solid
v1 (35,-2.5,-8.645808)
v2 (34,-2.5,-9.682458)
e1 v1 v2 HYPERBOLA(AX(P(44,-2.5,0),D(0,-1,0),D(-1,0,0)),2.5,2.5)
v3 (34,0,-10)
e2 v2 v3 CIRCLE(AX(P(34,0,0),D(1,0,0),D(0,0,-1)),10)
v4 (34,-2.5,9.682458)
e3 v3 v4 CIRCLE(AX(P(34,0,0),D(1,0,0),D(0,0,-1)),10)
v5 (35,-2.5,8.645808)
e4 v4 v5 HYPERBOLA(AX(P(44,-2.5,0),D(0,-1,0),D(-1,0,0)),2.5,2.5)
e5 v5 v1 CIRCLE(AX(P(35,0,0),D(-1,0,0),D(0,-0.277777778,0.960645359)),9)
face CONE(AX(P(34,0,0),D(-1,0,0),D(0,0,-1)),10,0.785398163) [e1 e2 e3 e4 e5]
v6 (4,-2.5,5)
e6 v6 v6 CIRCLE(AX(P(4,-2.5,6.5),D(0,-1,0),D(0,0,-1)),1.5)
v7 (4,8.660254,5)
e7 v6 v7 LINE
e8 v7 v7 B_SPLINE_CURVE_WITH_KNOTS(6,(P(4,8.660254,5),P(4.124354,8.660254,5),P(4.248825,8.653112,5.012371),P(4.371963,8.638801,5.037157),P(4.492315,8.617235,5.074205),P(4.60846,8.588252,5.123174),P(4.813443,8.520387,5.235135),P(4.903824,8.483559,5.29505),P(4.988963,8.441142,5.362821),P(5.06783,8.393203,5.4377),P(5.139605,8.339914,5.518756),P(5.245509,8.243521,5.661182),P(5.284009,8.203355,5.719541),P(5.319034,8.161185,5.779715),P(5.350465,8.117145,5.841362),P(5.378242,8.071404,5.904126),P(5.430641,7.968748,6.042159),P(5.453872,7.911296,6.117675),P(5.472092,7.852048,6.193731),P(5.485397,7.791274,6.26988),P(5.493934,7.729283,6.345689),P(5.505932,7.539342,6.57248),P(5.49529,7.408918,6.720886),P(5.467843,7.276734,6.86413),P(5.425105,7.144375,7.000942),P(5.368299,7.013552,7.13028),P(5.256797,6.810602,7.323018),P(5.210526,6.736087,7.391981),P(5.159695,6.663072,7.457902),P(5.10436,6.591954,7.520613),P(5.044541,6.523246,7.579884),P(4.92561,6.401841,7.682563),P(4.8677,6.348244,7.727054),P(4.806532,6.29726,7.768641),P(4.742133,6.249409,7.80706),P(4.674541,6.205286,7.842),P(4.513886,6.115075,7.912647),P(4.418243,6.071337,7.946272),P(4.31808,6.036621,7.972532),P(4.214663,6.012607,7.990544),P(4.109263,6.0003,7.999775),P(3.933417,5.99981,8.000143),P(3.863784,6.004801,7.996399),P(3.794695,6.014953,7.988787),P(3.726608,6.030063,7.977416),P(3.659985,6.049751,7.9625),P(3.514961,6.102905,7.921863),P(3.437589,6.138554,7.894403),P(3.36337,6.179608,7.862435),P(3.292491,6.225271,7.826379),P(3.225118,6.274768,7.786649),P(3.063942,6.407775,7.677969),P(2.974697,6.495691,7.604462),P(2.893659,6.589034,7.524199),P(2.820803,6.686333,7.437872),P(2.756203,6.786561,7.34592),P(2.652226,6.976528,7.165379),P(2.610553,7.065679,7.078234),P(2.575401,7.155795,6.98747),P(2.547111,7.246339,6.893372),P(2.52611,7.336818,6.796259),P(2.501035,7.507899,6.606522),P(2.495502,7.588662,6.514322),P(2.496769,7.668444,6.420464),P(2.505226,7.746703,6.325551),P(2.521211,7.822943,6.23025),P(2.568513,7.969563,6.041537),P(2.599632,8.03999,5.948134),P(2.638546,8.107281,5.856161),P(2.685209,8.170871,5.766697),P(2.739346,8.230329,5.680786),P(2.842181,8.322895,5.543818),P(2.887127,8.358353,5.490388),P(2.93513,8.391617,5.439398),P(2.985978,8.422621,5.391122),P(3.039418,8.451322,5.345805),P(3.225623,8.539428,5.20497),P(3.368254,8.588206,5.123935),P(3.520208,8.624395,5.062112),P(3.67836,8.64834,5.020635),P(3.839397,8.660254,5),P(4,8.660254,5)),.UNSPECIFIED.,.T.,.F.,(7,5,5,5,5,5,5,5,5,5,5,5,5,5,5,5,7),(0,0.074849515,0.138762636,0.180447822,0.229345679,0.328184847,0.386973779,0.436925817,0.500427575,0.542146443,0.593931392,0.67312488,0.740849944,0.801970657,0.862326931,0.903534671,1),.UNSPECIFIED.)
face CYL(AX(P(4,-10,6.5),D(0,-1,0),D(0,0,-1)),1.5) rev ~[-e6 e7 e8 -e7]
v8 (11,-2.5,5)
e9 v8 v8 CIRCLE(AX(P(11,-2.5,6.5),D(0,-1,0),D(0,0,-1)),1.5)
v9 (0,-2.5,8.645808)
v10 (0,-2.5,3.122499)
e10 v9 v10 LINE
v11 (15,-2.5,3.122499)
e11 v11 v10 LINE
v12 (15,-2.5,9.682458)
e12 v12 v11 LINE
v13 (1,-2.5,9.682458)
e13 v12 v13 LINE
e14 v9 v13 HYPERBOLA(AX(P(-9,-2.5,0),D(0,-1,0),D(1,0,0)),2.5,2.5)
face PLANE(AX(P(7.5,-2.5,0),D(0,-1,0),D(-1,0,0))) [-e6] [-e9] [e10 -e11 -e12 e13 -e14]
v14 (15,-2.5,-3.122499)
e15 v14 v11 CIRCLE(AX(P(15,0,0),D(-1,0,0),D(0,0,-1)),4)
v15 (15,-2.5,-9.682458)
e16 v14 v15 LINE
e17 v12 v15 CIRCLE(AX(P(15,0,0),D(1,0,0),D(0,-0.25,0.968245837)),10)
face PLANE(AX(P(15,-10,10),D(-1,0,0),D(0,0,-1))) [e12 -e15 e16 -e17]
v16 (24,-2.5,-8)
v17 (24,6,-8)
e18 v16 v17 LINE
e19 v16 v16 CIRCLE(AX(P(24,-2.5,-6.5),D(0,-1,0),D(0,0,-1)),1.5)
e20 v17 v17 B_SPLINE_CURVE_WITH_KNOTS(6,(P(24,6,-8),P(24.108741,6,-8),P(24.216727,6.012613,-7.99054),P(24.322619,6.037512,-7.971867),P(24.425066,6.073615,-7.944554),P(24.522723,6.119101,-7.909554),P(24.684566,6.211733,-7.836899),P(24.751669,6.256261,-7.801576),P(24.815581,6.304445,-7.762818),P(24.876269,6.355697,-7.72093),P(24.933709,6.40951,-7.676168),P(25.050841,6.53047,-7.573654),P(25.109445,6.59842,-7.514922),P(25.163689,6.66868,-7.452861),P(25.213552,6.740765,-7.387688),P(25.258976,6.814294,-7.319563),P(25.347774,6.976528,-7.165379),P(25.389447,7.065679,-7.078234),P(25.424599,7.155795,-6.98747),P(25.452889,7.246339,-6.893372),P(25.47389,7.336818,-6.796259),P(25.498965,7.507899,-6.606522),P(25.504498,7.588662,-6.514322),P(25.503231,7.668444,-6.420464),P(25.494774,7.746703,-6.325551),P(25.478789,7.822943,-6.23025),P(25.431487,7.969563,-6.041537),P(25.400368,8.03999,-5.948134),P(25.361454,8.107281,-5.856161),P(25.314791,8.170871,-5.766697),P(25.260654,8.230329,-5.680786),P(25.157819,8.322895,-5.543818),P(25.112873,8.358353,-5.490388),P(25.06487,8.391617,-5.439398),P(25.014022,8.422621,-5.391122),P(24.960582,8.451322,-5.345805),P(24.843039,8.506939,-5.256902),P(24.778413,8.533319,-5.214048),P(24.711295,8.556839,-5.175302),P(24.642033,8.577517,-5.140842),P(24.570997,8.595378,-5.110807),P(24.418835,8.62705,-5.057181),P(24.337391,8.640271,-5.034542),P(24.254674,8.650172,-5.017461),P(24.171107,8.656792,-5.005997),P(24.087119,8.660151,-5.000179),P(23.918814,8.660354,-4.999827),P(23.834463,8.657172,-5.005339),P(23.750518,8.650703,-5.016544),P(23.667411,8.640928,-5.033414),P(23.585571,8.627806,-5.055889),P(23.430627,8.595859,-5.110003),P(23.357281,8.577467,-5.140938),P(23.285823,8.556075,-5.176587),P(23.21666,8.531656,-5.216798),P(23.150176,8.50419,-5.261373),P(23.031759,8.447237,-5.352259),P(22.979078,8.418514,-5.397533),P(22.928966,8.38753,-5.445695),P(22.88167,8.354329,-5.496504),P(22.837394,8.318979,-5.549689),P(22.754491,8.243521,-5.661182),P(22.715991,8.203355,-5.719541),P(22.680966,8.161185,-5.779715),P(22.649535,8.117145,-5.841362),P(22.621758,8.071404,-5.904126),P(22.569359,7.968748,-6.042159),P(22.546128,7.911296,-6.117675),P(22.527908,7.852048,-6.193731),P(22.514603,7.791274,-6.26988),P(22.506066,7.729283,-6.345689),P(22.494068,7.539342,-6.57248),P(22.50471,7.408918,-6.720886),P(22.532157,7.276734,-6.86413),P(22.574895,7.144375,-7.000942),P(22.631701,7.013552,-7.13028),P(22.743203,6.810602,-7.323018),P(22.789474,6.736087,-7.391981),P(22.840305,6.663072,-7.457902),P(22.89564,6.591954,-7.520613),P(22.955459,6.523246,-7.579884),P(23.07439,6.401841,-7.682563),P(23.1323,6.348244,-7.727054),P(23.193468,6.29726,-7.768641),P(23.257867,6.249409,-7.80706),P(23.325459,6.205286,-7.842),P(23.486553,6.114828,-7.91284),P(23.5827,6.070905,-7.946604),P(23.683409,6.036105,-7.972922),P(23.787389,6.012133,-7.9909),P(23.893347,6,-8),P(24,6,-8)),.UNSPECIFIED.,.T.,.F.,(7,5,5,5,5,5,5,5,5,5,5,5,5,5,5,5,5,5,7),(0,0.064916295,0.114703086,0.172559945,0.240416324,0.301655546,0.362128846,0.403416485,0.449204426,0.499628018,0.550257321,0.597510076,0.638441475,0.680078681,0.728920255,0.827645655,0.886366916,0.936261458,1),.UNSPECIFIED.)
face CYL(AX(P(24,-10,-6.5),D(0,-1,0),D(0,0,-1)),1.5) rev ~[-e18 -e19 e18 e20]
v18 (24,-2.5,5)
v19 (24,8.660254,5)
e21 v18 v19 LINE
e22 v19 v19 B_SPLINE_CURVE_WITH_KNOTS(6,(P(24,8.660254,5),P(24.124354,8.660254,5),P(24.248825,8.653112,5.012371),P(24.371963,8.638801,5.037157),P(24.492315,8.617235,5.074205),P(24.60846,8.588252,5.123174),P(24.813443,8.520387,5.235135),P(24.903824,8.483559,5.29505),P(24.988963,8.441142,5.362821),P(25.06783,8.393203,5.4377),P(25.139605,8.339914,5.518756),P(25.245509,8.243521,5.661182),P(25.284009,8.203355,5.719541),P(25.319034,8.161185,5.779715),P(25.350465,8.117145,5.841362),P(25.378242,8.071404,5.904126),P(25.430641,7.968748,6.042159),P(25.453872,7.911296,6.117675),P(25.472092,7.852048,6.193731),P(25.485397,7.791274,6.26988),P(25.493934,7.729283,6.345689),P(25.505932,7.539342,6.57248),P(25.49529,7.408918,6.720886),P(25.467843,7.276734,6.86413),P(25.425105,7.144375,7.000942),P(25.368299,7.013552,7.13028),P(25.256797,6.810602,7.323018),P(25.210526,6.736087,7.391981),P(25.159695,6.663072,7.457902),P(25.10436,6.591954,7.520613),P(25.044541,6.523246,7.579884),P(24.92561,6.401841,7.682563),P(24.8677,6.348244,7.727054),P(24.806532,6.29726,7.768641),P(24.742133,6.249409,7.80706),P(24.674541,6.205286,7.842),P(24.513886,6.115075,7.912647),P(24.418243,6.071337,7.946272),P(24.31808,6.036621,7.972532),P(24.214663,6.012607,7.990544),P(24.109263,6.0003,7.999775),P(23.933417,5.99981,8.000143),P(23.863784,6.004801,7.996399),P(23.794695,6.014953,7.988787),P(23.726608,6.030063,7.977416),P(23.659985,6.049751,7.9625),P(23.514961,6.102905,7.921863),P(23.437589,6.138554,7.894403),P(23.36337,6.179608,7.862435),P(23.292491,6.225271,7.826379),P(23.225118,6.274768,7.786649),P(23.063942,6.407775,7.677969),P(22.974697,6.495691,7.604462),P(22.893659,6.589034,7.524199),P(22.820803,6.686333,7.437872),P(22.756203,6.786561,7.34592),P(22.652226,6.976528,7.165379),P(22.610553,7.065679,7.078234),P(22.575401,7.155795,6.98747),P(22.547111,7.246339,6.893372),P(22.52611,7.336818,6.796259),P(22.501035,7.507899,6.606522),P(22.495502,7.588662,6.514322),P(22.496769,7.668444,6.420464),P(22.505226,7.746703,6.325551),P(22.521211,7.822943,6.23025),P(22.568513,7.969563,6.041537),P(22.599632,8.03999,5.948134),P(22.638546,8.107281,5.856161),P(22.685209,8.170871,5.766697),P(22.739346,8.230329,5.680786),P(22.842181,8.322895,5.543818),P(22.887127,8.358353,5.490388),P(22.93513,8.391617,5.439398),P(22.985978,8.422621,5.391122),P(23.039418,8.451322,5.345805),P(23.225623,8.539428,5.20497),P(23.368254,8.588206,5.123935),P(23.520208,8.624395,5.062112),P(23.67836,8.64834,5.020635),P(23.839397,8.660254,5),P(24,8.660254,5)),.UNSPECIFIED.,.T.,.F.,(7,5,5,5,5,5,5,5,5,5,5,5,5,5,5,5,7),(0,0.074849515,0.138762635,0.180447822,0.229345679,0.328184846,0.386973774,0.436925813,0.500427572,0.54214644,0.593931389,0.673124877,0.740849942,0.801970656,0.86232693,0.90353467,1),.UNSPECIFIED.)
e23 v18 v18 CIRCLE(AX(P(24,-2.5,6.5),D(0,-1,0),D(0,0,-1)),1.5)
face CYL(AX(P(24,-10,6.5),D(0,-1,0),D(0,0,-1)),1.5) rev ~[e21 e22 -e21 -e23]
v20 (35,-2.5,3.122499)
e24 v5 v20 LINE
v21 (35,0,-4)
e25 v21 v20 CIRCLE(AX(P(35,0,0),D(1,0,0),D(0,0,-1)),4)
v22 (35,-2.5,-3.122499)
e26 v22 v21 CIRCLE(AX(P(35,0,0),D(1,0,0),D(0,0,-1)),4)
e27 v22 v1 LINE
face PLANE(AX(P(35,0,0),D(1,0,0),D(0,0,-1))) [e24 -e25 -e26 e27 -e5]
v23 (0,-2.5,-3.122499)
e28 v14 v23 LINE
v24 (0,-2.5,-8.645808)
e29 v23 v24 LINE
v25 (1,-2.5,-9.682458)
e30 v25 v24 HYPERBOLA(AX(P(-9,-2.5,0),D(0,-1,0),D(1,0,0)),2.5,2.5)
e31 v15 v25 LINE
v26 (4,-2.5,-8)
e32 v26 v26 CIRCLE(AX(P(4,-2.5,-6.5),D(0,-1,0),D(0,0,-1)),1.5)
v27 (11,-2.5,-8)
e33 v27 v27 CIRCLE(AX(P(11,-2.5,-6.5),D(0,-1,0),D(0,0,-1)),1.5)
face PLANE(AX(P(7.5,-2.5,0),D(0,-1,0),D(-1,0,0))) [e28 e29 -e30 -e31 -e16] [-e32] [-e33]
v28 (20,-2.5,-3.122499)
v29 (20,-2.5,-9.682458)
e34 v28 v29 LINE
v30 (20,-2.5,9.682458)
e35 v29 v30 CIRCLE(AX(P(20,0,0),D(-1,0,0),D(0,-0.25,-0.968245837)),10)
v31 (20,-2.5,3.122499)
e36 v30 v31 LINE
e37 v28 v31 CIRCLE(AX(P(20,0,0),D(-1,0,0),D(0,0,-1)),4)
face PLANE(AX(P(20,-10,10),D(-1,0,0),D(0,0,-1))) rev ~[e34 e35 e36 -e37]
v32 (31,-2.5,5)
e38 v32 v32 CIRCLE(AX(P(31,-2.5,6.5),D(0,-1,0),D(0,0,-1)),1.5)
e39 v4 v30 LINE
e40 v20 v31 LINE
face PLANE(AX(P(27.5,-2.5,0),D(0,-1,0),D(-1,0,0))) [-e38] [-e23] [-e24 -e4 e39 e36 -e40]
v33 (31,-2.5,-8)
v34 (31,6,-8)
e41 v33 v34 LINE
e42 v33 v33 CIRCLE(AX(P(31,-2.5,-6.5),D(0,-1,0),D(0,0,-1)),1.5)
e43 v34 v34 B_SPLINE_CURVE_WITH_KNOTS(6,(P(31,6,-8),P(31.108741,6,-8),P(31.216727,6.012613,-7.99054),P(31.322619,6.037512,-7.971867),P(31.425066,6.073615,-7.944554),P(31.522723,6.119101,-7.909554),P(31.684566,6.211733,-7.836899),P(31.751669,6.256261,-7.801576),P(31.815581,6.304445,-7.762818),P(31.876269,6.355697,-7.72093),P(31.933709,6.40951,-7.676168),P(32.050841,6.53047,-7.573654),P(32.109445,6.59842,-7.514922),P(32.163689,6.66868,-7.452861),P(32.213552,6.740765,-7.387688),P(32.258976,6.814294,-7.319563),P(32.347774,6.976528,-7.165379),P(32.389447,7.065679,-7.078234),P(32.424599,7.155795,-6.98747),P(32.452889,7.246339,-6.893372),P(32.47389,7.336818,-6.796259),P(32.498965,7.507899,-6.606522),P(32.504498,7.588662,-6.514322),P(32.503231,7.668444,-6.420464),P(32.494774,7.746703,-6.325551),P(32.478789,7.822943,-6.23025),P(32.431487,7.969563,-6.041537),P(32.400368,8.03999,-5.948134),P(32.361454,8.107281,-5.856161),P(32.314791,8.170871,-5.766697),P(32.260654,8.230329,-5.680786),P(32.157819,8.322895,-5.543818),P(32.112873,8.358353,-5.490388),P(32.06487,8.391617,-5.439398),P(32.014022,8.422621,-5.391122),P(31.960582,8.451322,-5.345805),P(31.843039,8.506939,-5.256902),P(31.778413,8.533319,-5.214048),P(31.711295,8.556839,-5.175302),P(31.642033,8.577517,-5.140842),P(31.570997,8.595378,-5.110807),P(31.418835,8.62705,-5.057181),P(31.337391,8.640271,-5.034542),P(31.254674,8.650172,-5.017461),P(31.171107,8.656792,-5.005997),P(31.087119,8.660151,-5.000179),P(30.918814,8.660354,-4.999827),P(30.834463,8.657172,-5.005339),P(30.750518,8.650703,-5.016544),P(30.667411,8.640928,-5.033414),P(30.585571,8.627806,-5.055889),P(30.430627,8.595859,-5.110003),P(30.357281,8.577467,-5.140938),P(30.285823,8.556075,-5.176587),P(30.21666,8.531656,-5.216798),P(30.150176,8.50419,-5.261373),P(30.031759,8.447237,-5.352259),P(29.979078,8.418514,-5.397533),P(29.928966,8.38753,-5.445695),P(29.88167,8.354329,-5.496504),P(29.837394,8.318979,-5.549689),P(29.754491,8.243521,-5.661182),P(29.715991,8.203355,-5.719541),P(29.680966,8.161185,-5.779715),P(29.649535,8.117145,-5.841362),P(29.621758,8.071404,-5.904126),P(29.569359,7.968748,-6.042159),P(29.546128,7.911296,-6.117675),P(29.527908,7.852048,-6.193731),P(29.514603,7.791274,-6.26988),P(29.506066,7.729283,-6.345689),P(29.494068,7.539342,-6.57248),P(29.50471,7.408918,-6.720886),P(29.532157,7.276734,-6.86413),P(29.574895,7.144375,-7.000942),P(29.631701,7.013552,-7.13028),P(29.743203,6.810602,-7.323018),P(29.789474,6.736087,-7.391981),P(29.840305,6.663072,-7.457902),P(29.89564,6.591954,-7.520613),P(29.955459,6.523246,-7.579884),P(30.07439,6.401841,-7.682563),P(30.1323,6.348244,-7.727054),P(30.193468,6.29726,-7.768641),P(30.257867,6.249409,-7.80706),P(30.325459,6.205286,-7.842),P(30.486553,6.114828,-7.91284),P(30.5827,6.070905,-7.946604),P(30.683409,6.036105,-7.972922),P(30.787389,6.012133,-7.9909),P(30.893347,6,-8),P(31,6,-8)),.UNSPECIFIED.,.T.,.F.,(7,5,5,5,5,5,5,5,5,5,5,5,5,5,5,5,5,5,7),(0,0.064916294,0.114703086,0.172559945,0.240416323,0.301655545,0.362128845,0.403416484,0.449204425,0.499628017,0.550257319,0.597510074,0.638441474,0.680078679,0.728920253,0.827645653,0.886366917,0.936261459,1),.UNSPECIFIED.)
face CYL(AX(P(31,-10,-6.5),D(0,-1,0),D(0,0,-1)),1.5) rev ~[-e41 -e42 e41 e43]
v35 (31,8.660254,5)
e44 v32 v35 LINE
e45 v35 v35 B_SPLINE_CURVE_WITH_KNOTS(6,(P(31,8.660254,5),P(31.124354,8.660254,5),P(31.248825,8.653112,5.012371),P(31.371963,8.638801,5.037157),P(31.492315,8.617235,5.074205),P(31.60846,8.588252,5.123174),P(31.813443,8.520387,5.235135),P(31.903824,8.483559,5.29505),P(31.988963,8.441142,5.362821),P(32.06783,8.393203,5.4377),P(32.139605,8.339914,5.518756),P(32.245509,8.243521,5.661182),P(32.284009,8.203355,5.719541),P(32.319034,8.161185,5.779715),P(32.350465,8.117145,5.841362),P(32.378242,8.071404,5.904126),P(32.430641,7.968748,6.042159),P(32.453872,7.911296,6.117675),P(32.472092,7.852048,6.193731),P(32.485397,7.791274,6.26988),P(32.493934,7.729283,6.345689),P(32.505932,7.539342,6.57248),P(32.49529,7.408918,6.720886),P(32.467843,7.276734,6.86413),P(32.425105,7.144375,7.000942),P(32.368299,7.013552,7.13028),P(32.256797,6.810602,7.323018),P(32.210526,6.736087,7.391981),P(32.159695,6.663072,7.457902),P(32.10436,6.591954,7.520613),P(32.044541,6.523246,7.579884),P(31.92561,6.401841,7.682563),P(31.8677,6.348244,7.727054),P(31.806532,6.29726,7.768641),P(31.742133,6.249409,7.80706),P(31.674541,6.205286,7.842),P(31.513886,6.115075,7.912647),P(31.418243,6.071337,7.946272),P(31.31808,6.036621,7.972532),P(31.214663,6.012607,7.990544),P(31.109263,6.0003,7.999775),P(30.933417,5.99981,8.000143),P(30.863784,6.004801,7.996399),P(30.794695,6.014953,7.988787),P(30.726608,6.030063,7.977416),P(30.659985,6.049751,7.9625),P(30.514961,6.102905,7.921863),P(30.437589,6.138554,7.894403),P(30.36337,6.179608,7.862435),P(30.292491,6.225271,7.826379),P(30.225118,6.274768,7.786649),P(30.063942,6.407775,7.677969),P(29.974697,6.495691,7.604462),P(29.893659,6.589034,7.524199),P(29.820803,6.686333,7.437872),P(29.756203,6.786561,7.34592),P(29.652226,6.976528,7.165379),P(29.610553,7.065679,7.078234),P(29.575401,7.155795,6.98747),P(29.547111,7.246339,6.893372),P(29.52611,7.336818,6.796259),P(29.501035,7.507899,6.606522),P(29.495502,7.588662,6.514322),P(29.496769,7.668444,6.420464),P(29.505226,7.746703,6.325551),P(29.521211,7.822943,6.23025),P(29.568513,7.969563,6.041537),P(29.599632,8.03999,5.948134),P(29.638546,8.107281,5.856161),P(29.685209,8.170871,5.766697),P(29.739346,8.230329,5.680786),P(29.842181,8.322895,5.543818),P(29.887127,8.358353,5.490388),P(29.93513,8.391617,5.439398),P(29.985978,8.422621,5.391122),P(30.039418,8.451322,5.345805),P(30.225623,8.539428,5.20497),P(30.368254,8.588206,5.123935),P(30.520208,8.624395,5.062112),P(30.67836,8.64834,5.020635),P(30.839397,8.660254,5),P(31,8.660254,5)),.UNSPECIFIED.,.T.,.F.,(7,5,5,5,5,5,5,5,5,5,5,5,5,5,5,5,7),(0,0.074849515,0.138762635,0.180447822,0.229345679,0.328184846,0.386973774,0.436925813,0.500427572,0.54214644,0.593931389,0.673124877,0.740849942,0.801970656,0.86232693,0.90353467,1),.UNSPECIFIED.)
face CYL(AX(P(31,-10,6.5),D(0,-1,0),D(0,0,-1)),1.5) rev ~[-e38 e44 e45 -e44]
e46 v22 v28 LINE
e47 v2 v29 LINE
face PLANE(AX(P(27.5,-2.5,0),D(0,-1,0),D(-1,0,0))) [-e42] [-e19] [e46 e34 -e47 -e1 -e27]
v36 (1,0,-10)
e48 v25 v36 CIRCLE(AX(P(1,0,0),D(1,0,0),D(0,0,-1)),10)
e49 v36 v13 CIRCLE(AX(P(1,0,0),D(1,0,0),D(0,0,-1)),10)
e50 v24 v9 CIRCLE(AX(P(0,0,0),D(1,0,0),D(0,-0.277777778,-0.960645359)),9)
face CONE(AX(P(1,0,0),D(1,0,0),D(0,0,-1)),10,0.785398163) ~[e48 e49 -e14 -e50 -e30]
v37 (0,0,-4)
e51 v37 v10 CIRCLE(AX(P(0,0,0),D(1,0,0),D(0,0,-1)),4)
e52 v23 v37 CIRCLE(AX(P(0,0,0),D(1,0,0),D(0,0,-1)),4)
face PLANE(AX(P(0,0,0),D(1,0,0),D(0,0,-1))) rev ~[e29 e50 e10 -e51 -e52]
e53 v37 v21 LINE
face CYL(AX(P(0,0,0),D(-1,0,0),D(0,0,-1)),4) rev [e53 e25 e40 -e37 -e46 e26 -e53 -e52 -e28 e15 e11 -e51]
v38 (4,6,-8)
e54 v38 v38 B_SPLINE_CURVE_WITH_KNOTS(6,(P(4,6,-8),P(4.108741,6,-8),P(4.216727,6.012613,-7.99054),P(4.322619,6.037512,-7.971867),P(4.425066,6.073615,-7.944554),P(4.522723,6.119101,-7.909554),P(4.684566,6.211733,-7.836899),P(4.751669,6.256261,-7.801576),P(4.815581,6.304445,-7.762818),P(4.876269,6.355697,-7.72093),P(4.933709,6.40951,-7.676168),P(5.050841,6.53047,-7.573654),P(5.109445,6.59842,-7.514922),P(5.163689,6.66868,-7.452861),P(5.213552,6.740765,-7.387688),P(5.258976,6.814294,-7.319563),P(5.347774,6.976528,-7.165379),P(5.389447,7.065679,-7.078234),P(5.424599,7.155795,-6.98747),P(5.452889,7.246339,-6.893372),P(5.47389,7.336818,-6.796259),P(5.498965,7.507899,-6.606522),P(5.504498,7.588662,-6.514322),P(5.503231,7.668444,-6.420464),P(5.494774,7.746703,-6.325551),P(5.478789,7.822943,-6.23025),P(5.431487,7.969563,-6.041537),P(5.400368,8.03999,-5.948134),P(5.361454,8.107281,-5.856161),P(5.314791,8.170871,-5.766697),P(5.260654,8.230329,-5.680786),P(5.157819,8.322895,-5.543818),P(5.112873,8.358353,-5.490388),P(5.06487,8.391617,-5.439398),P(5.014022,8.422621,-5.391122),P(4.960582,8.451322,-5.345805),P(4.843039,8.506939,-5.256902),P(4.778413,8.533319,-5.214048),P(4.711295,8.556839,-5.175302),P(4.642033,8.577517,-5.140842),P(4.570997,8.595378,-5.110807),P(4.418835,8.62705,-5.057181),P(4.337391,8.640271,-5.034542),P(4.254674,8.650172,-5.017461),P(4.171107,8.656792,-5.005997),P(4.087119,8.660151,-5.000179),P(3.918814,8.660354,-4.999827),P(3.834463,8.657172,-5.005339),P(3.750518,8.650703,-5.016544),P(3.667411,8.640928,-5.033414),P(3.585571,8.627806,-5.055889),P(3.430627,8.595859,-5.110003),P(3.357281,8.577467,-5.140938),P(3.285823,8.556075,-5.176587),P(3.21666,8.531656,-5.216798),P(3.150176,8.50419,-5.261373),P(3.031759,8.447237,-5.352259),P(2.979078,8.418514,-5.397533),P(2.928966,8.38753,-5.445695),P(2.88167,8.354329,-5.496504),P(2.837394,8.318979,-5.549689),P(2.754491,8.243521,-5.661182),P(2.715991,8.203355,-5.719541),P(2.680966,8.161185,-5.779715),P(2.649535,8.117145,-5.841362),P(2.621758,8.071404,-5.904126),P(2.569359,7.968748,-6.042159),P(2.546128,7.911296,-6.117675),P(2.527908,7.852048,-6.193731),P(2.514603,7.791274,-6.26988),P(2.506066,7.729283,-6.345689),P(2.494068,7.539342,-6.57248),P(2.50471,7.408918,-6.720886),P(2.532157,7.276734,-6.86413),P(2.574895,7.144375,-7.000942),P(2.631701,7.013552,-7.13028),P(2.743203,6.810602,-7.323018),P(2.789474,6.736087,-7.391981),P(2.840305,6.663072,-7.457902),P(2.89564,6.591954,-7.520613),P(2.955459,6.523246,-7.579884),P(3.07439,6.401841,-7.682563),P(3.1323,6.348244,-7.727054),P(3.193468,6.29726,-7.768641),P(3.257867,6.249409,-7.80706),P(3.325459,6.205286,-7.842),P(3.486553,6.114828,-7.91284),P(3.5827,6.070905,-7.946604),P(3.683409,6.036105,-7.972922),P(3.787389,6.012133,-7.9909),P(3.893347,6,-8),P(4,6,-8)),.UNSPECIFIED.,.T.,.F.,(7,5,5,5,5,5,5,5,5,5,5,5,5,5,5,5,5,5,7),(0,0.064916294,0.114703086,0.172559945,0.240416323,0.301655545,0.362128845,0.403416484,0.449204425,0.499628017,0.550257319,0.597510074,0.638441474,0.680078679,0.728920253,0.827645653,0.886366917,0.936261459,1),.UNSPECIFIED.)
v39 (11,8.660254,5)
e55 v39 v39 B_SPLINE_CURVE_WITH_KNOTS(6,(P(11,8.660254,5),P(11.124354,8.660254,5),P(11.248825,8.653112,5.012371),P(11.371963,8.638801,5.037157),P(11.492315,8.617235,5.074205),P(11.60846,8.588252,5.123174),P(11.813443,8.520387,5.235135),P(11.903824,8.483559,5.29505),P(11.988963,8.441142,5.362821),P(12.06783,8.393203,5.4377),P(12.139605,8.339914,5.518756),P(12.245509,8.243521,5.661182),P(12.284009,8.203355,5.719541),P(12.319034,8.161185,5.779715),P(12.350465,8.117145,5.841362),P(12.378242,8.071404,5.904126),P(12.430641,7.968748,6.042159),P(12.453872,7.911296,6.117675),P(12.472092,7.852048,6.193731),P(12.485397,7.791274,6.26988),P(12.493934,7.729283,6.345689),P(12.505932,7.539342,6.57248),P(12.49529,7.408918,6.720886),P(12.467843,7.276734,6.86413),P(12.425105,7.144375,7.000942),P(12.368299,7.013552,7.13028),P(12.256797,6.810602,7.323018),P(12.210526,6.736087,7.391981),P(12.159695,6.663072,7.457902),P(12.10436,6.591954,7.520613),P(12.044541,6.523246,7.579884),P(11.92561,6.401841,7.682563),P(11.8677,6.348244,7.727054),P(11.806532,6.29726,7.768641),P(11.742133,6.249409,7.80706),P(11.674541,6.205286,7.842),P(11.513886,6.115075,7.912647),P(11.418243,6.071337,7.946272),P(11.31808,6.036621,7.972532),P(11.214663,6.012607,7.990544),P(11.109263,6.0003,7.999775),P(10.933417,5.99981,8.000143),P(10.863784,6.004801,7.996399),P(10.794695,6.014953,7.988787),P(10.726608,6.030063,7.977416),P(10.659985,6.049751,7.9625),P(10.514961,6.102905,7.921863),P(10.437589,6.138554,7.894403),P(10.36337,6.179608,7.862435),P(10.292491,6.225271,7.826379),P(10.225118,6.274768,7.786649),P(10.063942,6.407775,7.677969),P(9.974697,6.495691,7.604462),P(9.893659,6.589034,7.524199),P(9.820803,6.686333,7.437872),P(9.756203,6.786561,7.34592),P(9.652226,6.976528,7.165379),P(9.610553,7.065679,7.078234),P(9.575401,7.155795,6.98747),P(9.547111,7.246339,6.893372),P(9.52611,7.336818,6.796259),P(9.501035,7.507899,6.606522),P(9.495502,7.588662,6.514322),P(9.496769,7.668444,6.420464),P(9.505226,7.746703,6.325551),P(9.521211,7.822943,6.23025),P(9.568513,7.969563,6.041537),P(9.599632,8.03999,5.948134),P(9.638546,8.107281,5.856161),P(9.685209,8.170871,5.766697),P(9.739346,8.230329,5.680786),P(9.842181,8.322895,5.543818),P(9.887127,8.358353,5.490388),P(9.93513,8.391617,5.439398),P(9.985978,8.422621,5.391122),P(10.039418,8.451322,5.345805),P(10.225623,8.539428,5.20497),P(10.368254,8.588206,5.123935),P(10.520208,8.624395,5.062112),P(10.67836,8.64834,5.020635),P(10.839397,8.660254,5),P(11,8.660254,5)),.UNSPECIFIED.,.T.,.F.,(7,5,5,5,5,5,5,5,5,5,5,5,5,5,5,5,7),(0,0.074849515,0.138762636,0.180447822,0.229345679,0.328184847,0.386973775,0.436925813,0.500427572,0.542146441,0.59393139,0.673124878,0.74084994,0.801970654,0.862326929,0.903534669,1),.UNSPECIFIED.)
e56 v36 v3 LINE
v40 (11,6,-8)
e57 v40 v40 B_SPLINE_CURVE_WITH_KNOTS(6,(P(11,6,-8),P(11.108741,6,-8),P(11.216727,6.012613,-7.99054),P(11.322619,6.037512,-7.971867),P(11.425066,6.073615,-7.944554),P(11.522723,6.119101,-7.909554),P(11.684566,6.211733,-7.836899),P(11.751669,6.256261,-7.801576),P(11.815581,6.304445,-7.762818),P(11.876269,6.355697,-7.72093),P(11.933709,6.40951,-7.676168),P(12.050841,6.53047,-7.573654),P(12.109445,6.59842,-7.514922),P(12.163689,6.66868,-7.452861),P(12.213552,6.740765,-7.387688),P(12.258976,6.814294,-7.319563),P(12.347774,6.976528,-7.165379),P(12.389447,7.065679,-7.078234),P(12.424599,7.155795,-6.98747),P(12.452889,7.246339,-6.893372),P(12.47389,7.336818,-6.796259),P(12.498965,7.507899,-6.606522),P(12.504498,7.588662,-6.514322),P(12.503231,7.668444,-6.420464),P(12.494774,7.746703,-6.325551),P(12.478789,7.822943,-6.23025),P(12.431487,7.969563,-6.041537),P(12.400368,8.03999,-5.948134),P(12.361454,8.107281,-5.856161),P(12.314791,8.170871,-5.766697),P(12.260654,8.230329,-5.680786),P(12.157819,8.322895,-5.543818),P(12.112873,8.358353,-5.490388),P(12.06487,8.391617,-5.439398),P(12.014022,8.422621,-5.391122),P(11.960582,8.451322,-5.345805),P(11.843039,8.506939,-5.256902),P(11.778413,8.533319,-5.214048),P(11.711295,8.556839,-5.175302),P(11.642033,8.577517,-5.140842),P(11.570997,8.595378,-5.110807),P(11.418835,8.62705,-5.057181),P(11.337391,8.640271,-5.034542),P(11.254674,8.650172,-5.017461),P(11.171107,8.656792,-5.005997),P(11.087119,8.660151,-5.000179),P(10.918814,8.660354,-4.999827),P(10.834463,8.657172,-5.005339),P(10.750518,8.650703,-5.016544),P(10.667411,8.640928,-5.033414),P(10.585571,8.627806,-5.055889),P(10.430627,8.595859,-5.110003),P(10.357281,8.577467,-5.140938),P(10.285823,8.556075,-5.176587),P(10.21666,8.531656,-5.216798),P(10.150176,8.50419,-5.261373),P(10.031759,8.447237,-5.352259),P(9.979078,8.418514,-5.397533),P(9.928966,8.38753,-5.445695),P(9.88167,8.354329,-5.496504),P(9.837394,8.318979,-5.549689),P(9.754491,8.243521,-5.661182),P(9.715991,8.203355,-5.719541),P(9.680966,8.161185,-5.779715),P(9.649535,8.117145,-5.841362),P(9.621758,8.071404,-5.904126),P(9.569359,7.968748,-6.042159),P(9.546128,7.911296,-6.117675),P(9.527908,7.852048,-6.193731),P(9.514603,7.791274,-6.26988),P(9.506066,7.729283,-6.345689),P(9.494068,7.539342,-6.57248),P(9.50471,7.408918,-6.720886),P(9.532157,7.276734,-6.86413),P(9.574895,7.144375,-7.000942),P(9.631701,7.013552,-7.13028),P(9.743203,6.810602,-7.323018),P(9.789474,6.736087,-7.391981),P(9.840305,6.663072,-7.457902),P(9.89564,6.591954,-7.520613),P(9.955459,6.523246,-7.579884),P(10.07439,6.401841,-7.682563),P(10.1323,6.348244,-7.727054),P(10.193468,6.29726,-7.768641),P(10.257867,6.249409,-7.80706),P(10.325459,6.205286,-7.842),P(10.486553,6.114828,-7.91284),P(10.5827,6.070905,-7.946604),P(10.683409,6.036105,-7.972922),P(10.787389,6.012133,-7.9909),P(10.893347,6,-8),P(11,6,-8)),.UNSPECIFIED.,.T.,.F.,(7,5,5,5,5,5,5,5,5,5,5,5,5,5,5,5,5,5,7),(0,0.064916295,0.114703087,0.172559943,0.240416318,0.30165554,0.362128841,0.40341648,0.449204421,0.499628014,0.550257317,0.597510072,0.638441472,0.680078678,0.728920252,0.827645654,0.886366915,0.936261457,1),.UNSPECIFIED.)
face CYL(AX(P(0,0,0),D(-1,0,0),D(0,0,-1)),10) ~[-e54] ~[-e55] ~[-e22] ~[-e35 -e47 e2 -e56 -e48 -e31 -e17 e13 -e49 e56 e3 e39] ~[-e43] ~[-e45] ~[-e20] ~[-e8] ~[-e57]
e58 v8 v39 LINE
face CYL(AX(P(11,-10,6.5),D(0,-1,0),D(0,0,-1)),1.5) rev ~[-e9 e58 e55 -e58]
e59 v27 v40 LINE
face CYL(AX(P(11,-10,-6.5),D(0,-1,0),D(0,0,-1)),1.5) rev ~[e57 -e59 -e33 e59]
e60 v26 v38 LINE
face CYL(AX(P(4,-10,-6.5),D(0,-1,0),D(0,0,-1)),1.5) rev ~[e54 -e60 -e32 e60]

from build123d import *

# Parameters (mm, degrees)
SKETCH_1_R          = 10
SKETCH_1_R_2        = 4
EXTRUDE_1_DEPTH     = 35
CHAMFER_1_SIZE      = 1
SKETCH_3_W          = 15
SKETCH_3_H          = 20
CUT_EXTRUDE_1_DEPTH = 7.5
SKETCH_3_4_R        = 1.5
CUT_EXTRUDE_2_DEPTH = 42.533119315


with BuildPart() as part:
    # 草图1 → 凸台-拉伸1 (new body)
    with BuildSketch(Plane(origin=(0, 0, 0), x_dir=(0, 0, -1), z_dir=(1, 0, 0))):
        Circle(SKETCH_1_R)
        Circle(SKETCH_1_R_2, mode=Mode.SUBTRACT)
    extrude(amount=EXTRUDE_1_DEPTH)

    # 倒角1
    chamfer_1_edges = [part.edges().sort_by_distance(p)[0] for p in [
        (35, 0, 10),
        (0, 0, 10),
    ]]
    chamfer(chamfer_1_edges, length=CHAMFER_1_SIZE)

    # 草图3 → 切除-拉伸1 (cut)
    with BuildSketch(Plane(origin=(0, -10, 0), x_dir=(-1, 0, 0), z_dir=(0, -1, 0))):
        with Locations((-7.5, 0)):
            Rectangle(SKETCH_3_W, SKETCH_3_H)
        with Locations((-27.5, 0)):
            Rectangle(SKETCH_3_W, SKETCH_3_H)
    extrude(amount=-CUT_EXTRUDE_1_DEPTH, mode=Mode.SUBTRACT)

    # 草图3<4> → 切除-拉伸2 (cut, through all)
    with BuildSketch(Plane(origin=(0, -10, 0), x_dir=(-1, 0, 0), z_dir=(0, -1, 0))):
        with Locations((-4, 6.5)):
            Circle(SKETCH_3_4_R)
        with Locations((-11, 6.5)):
            Circle(SKETCH_3_4_R)
        with Locations((-11, -6.5)):
            Circle(SKETCH_3_4_R)
        with Locations((-4, -6.5)):
            Circle(SKETCH_3_4_R)
        with Locations((-31, -6.5)):
            Circle(SKETCH_3_4_R)
        with Locations((-24, -6.5)):
            Circle(SKETCH_3_4_R)
        with Locations((-24, 6.5)):
            Circle(SKETCH_3_4_R)
        with Locations((-31, 6.5)):
            Circle(SKETCH_3_4_R)
    extrude(amount=-CUT_EXTRUDE_2_DEPTH, mode=Mode.SUBTRACT)


solid = part.part
